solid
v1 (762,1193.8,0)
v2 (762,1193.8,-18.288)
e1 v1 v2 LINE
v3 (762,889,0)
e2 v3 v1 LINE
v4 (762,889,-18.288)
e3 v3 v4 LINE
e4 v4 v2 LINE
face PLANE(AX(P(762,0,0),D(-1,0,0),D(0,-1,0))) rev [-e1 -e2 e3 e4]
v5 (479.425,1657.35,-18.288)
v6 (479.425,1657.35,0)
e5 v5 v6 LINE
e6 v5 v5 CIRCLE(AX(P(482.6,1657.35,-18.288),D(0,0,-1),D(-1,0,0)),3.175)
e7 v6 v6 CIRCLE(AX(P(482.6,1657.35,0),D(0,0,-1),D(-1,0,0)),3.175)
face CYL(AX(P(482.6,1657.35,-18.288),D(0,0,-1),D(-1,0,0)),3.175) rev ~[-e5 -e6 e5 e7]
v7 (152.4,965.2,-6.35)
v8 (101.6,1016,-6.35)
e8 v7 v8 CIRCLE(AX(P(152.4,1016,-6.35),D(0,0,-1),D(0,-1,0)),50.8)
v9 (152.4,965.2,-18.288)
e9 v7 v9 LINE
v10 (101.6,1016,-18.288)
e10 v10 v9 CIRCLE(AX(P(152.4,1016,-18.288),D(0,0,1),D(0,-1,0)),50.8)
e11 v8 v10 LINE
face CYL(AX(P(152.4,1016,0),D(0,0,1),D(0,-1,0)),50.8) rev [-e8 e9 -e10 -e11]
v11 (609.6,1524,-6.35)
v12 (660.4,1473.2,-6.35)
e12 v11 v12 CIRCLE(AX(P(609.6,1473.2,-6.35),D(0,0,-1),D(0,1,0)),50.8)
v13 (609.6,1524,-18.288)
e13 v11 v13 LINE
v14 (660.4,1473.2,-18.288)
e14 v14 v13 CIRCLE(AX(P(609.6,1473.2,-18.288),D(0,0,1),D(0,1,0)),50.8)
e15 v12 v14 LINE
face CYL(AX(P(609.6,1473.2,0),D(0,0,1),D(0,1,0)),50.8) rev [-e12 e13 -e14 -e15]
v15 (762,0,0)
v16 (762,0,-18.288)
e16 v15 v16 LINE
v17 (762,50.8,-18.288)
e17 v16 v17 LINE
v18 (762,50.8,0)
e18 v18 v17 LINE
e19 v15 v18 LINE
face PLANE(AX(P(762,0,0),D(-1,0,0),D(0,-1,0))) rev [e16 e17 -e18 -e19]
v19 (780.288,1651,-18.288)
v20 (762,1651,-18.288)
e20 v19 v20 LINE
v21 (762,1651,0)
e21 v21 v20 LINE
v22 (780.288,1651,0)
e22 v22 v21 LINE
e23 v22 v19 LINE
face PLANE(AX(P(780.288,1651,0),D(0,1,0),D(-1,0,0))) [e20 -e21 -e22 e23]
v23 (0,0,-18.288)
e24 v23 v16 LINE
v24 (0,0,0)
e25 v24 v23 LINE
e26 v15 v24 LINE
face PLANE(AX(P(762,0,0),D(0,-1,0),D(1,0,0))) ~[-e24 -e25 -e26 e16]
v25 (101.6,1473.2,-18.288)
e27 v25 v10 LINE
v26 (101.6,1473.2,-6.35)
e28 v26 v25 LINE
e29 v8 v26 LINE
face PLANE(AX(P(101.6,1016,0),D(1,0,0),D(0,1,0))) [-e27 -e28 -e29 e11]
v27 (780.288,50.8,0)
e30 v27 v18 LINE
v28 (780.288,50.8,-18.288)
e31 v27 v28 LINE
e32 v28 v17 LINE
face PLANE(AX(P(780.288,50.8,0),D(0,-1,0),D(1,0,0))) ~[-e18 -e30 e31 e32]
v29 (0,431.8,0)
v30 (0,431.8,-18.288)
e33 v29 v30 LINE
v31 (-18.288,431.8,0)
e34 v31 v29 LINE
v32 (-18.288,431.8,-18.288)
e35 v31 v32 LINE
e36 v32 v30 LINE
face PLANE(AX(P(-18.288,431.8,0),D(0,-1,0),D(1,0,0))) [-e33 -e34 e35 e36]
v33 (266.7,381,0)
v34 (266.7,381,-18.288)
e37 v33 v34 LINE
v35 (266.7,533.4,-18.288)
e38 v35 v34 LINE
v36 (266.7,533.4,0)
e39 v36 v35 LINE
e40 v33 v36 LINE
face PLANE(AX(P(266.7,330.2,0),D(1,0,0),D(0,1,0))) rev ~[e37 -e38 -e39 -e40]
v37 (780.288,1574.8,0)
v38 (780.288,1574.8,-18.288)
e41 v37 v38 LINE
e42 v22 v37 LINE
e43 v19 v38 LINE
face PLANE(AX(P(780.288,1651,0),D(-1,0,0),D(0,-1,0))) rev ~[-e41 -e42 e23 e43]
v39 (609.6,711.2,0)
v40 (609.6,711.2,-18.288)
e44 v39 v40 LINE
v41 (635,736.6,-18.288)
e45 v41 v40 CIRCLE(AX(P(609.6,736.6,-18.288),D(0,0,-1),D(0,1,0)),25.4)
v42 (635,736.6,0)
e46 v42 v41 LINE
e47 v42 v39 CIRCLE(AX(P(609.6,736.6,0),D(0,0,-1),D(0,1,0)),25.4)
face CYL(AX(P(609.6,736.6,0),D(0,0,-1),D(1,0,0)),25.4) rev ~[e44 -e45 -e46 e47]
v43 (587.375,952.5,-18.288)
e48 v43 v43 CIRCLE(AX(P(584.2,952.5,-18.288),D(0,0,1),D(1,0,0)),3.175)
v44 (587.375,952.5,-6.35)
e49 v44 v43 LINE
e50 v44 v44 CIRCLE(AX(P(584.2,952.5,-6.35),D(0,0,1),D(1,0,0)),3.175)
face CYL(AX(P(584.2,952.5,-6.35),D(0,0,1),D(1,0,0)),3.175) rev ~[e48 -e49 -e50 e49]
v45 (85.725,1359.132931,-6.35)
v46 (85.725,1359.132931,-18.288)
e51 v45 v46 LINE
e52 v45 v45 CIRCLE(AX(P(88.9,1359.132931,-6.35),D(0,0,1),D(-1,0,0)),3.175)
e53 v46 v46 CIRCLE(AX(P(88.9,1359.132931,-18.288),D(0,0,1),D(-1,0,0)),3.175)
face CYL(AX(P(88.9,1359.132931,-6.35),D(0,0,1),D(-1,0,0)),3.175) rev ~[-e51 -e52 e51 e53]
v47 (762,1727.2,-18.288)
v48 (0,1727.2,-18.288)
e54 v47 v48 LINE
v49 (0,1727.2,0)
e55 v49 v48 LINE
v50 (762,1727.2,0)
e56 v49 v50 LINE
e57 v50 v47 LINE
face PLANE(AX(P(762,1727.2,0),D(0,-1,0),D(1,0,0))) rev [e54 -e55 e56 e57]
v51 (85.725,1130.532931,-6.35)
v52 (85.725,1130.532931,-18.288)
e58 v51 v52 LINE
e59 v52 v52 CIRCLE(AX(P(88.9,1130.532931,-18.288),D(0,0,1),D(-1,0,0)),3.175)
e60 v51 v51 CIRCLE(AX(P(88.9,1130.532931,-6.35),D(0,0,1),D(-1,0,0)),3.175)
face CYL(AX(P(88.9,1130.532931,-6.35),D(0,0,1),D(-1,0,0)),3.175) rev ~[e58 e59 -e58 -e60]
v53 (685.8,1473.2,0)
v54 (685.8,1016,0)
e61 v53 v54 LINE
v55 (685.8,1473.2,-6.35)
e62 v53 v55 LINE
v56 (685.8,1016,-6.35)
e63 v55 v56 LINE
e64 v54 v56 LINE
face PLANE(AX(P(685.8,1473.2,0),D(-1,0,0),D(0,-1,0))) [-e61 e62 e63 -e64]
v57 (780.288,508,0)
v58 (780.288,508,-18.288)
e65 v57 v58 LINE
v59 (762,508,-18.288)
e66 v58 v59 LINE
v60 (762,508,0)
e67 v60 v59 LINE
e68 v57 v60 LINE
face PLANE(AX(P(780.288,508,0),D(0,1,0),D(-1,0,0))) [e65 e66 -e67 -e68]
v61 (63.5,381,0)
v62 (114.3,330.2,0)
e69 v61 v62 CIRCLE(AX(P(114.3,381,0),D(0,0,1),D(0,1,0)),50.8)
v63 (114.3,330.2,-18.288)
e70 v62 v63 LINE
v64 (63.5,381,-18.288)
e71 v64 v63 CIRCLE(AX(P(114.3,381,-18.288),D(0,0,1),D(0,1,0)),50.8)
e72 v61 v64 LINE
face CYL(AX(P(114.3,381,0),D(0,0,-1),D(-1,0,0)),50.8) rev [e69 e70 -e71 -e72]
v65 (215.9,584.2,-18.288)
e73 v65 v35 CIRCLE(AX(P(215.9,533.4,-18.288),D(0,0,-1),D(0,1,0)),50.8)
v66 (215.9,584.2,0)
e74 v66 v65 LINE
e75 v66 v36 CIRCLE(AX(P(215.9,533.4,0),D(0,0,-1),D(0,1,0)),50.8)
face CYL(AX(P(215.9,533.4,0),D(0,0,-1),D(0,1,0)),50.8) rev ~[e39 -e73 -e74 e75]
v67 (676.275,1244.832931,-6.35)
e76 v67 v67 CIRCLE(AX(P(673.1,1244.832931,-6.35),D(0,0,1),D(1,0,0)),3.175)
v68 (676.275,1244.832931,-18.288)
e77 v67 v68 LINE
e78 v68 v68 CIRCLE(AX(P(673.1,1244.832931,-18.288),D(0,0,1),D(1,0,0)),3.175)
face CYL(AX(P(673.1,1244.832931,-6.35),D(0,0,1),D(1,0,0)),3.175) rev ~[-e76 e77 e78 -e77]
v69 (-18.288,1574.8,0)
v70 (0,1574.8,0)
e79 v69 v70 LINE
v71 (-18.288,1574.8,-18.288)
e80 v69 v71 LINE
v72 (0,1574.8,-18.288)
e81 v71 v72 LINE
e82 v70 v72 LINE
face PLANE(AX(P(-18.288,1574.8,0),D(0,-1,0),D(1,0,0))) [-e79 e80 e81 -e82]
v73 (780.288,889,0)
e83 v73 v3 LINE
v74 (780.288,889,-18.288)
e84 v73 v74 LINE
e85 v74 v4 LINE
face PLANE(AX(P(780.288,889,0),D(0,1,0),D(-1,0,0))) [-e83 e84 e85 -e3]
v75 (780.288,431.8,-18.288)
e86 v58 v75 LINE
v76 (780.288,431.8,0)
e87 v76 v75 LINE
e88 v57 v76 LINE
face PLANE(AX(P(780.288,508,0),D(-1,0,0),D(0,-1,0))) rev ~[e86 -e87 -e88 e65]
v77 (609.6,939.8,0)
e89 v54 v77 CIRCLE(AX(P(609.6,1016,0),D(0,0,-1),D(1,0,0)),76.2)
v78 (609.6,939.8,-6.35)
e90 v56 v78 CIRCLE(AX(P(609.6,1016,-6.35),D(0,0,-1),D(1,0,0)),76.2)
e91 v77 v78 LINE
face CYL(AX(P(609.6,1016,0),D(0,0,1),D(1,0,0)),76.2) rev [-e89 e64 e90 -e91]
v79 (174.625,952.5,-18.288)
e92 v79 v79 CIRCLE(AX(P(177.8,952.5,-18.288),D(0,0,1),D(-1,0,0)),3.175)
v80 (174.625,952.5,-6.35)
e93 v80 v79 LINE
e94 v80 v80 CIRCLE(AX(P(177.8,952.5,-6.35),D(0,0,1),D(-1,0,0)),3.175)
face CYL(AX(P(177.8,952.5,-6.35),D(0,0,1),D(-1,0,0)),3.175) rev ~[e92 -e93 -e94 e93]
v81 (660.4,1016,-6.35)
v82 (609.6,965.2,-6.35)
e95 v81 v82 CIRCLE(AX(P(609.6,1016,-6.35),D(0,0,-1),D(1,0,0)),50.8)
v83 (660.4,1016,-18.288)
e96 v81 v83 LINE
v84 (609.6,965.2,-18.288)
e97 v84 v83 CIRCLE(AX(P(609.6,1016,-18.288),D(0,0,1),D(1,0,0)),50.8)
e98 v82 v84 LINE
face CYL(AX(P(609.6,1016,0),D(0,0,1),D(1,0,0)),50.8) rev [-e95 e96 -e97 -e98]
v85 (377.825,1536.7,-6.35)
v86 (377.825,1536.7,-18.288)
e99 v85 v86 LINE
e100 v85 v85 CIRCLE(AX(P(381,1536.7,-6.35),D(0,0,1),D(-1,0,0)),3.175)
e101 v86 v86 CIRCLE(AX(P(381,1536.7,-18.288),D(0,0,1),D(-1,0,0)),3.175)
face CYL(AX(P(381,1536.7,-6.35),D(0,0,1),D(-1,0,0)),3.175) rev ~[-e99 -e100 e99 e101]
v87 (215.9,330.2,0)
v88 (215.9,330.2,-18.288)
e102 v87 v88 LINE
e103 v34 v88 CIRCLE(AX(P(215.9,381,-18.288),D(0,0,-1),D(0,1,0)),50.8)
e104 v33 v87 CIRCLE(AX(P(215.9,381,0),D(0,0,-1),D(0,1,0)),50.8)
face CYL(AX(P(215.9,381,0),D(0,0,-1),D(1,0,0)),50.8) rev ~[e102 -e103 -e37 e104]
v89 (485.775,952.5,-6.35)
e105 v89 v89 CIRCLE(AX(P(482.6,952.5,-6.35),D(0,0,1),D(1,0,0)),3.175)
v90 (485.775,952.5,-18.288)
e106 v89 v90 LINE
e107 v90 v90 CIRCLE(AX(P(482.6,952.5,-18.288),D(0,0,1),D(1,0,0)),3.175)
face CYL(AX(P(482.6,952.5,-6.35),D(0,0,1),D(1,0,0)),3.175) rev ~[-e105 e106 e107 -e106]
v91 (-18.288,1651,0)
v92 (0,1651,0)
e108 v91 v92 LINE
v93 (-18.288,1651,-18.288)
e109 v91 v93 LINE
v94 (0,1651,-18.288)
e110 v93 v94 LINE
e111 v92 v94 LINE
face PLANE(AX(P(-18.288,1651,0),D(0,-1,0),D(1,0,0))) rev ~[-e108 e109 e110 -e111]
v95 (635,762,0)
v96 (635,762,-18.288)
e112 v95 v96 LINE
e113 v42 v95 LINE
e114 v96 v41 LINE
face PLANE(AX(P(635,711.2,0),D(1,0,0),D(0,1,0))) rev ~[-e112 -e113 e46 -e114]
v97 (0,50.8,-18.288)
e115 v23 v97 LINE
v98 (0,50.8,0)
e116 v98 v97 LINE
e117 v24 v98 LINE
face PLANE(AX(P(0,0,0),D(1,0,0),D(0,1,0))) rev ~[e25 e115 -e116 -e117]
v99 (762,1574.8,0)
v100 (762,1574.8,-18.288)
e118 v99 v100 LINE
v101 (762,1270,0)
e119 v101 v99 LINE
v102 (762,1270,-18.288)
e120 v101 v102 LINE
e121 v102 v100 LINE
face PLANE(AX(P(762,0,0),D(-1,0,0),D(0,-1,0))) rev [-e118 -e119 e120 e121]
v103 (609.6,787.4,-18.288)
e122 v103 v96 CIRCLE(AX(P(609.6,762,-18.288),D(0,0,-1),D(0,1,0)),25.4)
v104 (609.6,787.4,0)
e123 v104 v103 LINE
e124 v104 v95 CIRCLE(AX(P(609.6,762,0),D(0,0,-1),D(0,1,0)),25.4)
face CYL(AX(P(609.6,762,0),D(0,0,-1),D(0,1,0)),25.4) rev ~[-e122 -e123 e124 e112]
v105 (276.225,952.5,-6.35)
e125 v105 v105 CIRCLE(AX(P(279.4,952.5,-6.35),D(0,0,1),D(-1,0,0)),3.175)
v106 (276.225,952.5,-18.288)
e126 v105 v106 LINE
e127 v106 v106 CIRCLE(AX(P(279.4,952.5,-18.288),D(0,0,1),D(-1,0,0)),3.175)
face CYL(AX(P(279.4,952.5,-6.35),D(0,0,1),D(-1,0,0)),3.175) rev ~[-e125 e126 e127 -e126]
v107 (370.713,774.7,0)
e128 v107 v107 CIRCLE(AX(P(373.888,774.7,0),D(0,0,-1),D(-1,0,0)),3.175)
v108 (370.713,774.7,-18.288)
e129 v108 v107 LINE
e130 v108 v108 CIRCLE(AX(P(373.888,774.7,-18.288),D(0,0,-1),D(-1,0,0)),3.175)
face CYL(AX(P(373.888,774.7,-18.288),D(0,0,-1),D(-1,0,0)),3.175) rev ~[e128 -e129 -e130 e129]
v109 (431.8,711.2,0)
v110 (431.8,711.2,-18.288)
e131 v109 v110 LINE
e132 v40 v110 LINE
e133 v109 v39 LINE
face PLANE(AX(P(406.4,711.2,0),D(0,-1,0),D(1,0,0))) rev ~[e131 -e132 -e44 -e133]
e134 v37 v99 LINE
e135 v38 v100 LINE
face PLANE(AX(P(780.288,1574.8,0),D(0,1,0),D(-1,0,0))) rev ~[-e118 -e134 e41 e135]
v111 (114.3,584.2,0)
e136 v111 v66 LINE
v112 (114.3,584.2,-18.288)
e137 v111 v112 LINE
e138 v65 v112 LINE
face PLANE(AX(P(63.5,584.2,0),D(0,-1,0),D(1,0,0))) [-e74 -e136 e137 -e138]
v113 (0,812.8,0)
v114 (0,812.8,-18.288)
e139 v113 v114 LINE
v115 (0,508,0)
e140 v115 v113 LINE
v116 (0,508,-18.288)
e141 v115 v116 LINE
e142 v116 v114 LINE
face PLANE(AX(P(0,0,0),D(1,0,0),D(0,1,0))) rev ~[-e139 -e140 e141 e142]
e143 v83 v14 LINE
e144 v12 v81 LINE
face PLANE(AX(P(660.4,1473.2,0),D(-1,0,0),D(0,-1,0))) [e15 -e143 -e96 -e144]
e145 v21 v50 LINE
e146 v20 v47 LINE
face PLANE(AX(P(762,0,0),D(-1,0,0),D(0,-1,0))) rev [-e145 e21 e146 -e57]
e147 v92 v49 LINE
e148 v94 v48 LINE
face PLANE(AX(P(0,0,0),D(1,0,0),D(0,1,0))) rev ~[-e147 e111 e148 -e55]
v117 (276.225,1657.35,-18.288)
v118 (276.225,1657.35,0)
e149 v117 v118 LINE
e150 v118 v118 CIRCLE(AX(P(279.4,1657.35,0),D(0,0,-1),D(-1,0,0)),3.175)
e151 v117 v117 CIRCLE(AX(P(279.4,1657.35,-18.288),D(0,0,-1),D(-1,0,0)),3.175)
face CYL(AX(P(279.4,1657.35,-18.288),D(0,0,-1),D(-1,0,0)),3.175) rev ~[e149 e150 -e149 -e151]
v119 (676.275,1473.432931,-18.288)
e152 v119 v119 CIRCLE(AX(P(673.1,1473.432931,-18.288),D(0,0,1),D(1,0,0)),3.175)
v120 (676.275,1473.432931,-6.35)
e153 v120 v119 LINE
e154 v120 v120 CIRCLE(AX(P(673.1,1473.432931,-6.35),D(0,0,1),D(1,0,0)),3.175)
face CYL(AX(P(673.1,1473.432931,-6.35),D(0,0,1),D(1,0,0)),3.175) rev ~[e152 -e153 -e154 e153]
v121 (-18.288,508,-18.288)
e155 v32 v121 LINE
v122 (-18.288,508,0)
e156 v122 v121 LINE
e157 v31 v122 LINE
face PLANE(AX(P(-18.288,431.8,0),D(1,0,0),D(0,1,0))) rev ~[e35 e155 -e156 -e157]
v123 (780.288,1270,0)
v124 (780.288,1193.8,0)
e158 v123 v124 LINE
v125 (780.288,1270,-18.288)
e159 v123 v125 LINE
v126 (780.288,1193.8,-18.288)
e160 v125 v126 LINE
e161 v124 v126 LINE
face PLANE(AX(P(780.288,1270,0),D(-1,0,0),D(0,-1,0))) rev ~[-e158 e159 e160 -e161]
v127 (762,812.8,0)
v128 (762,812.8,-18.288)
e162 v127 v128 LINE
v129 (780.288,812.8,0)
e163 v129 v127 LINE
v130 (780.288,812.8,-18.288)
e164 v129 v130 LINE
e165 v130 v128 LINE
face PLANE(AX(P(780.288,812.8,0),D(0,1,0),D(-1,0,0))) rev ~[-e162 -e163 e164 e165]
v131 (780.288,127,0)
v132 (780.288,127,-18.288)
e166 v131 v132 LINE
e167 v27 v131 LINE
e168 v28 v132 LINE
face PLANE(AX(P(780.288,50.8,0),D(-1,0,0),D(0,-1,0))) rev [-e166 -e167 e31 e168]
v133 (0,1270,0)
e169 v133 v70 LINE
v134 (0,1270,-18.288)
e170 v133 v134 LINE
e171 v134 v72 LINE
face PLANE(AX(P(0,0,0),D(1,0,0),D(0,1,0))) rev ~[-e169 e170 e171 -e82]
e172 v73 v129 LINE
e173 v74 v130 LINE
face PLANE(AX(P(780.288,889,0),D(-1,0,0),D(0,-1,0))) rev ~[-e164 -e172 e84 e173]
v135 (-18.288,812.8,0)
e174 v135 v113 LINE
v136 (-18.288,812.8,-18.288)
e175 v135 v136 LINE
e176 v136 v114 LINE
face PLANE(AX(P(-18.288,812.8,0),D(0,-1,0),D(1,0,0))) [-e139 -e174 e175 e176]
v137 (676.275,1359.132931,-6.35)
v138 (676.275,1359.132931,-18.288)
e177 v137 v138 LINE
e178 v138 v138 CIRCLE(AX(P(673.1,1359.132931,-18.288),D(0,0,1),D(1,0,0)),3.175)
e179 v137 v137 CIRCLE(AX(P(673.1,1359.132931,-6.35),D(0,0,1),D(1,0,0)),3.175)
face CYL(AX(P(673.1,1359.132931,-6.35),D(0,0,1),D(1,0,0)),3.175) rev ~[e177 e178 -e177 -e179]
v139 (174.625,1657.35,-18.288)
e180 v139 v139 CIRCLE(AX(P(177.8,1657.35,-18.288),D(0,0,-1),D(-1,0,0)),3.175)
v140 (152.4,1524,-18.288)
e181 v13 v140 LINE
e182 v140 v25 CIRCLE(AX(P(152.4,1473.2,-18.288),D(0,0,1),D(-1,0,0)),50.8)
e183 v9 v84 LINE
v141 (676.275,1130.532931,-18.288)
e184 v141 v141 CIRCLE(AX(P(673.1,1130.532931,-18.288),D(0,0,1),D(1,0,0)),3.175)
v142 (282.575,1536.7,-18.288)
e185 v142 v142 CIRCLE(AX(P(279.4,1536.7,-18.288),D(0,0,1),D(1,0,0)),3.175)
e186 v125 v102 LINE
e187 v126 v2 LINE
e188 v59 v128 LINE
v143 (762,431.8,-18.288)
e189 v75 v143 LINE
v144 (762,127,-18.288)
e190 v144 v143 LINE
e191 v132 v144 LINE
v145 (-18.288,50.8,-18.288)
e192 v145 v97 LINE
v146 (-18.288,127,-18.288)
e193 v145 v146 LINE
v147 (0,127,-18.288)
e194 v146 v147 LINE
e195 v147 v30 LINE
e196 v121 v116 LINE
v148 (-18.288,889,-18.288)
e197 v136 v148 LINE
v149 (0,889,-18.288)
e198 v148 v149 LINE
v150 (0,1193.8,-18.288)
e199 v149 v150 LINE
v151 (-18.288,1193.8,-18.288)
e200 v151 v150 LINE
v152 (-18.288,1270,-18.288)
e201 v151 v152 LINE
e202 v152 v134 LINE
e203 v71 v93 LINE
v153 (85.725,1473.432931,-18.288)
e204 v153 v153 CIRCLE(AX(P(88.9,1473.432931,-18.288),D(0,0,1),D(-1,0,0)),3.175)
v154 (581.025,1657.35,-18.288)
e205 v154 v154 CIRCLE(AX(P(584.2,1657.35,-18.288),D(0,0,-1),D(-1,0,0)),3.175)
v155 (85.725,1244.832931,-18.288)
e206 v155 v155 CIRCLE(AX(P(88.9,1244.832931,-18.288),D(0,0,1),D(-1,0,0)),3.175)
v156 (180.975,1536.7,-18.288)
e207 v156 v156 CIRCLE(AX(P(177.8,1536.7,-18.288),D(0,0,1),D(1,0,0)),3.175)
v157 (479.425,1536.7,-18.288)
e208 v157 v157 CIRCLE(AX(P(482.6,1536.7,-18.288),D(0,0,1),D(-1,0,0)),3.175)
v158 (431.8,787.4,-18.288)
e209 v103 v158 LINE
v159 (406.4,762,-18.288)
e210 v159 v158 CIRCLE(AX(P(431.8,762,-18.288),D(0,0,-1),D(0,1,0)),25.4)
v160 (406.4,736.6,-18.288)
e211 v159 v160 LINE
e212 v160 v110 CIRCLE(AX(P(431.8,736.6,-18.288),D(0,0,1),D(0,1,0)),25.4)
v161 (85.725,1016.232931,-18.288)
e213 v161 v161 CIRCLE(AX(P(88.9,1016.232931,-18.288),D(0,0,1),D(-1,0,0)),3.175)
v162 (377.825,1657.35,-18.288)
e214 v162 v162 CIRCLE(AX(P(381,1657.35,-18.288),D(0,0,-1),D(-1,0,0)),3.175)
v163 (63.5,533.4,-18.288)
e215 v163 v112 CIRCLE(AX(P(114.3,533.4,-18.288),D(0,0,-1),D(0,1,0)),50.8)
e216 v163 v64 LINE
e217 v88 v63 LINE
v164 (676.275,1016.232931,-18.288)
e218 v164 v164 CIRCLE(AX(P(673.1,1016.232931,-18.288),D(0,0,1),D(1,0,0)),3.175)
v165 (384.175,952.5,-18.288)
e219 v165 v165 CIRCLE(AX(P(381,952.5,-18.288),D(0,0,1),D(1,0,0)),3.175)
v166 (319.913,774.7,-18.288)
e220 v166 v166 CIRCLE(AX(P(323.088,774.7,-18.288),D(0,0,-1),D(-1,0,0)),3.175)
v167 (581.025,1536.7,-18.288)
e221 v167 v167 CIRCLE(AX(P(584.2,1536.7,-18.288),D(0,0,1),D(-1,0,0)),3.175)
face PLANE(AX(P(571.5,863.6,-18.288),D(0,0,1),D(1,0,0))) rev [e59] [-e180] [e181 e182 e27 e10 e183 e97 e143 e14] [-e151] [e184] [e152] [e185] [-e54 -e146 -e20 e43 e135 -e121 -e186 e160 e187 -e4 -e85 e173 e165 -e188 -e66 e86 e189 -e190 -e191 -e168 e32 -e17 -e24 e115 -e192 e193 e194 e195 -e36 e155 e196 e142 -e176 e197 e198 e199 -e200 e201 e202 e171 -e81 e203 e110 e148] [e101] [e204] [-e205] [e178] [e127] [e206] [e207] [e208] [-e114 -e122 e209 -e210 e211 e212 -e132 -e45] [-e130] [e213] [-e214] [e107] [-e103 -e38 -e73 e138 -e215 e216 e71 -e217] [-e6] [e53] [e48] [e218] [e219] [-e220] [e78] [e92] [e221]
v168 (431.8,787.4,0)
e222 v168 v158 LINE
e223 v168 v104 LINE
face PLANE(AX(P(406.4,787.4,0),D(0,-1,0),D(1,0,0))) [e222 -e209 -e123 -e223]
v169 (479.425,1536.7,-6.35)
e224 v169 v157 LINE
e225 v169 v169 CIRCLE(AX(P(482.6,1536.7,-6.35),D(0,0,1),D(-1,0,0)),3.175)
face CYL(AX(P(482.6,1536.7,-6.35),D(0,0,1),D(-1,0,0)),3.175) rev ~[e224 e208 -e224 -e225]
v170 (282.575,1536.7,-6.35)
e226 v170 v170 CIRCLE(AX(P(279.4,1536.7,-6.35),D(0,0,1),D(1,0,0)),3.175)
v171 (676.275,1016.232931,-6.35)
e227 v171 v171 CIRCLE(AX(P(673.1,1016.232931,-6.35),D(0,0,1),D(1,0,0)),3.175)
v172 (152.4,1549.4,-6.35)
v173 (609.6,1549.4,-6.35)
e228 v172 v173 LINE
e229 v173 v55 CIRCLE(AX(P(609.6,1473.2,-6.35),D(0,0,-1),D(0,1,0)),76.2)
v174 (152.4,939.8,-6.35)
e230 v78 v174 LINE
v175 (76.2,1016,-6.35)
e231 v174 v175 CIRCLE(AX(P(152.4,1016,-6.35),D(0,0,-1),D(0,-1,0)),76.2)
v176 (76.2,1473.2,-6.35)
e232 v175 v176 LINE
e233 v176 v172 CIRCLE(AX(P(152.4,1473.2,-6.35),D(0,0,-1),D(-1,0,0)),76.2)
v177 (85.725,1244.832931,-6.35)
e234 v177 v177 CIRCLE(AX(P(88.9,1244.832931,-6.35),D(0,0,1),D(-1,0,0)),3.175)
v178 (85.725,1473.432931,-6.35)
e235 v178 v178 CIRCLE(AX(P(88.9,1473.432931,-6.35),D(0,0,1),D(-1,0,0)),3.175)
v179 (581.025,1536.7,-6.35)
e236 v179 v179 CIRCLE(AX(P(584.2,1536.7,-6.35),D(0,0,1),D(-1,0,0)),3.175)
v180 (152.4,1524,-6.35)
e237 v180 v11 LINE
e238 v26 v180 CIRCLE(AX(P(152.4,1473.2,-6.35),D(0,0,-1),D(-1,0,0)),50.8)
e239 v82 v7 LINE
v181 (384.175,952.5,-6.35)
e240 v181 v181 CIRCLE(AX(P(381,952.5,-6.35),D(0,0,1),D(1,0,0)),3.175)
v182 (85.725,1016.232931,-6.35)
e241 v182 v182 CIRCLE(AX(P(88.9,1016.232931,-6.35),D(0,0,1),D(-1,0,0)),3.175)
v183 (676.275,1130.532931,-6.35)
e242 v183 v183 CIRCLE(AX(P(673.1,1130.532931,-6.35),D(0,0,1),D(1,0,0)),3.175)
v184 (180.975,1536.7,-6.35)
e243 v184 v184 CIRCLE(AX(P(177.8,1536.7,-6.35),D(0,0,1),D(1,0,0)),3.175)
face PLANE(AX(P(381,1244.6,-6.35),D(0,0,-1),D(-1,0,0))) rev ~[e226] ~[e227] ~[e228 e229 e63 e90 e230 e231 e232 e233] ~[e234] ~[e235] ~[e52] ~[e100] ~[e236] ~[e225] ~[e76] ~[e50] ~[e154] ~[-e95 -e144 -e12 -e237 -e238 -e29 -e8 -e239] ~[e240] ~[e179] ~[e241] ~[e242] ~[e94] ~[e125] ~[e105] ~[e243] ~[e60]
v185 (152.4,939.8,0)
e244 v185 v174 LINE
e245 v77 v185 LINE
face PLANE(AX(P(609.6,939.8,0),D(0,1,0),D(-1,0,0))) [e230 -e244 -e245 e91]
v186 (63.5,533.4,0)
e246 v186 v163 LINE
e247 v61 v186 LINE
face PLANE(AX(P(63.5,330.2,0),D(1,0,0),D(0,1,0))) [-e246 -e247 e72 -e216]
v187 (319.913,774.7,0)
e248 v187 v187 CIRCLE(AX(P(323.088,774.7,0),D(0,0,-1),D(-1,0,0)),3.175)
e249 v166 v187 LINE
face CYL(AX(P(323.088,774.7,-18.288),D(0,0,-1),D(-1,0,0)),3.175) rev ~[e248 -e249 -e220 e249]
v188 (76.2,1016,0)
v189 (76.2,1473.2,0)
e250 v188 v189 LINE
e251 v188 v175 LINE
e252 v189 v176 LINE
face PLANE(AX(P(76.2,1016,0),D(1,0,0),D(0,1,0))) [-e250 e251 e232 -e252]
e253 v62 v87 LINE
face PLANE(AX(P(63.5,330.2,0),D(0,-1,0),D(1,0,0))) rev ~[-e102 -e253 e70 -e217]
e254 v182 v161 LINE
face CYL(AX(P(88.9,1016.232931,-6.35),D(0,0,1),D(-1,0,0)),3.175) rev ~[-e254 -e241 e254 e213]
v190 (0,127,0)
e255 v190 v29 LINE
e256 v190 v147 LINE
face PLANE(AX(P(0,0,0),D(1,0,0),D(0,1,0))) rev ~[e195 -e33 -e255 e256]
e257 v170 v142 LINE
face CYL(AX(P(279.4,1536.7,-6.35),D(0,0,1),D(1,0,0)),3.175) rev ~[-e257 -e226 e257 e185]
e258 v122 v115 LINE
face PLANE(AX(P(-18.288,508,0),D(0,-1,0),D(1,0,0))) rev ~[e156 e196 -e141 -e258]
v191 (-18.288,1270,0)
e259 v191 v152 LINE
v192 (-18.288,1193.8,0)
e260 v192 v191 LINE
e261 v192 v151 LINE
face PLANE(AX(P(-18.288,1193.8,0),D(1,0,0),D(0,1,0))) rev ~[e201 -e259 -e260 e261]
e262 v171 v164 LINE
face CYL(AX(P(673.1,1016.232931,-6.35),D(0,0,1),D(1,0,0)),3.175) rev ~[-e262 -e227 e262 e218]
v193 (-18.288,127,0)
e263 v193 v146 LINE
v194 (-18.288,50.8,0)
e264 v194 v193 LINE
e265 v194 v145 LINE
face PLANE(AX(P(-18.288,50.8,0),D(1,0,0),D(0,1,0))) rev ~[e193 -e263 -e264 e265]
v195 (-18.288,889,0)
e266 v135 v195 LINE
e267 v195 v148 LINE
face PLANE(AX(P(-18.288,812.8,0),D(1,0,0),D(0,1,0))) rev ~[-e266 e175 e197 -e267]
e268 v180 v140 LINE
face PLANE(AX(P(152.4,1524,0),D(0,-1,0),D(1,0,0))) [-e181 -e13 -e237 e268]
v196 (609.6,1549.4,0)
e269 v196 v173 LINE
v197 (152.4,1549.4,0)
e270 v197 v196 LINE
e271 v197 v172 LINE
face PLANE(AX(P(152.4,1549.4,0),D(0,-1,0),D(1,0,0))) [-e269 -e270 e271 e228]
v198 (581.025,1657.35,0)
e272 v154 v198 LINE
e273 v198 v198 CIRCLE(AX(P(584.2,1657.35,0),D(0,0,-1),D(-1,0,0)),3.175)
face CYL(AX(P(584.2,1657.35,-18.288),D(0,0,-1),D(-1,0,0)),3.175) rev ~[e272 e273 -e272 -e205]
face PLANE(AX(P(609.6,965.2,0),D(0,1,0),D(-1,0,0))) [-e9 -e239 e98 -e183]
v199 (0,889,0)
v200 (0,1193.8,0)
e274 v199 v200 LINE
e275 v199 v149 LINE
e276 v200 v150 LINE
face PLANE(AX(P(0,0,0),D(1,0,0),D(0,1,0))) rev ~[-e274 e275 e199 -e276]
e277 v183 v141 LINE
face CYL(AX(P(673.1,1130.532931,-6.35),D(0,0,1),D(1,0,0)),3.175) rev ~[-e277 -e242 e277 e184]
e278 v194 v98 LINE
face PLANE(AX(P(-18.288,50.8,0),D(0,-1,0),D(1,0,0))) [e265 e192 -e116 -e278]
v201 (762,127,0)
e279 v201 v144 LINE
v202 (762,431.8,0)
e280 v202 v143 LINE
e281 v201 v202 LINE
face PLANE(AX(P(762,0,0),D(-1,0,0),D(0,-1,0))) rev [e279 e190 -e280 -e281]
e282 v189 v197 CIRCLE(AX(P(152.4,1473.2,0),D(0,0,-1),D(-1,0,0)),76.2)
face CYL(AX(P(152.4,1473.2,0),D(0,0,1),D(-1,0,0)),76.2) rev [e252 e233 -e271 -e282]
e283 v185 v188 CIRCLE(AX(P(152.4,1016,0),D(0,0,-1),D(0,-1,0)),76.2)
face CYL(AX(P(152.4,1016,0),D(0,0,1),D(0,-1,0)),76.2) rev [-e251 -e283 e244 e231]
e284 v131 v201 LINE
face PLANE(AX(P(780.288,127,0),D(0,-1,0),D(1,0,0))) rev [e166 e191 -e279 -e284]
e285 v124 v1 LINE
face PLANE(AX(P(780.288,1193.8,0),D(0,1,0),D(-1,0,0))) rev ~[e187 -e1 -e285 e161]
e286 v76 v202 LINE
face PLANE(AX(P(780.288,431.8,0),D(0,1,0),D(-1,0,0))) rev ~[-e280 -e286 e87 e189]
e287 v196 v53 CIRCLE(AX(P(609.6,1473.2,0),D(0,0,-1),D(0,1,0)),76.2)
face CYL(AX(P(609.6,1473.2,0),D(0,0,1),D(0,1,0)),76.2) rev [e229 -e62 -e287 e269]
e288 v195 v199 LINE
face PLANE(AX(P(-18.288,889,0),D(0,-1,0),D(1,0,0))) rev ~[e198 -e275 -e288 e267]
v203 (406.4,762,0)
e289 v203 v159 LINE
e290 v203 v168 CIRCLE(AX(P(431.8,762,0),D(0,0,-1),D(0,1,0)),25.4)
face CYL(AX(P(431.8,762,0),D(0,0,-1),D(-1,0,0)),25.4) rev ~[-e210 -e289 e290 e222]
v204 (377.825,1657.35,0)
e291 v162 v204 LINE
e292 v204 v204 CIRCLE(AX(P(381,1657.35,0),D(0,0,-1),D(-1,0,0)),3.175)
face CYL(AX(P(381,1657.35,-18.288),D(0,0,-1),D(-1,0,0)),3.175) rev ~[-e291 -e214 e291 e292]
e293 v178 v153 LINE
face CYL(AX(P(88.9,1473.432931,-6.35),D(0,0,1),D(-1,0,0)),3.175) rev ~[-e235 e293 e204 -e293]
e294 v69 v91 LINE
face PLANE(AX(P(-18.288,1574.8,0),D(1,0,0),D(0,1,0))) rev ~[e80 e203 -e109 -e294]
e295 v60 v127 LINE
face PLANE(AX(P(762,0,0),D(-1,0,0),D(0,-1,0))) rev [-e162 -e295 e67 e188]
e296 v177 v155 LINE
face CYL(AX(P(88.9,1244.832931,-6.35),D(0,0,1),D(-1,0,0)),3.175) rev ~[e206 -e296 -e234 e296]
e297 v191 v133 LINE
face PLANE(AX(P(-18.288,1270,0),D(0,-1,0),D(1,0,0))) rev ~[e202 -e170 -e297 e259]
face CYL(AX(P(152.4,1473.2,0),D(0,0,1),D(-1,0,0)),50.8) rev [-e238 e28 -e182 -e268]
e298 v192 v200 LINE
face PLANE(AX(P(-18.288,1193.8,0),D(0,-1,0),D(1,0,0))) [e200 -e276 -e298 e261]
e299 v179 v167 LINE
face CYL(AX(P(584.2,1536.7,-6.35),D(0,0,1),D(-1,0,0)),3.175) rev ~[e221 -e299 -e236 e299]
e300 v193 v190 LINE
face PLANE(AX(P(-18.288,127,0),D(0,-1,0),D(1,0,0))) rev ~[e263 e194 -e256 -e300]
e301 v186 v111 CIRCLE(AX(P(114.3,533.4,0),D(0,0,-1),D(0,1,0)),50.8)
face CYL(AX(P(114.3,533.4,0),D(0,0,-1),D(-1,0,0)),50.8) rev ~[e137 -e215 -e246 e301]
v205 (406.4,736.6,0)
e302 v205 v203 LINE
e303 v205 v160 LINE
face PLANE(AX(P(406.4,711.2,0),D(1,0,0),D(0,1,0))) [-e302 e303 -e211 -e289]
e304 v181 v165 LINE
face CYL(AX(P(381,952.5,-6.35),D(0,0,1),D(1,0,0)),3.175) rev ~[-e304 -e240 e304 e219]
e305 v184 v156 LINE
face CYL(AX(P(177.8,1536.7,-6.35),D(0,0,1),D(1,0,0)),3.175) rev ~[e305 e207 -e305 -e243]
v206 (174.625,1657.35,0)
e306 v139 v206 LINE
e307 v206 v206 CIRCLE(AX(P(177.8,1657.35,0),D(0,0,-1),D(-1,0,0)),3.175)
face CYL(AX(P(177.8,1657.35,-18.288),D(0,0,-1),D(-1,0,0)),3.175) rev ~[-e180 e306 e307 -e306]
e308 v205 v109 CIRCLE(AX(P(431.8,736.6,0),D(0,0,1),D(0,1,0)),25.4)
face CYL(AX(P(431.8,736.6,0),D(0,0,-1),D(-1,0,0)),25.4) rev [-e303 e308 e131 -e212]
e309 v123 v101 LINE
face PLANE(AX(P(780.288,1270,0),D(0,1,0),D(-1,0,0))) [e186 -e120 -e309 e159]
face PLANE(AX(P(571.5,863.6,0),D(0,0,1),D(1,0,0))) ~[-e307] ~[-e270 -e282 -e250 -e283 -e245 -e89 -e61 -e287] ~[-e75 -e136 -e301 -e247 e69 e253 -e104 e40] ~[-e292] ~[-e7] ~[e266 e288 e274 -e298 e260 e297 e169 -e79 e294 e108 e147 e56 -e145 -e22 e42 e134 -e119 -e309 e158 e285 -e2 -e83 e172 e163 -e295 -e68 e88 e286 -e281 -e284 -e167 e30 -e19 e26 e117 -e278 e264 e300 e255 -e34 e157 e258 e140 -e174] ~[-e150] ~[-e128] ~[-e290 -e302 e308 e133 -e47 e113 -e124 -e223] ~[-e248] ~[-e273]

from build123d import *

# Parameters (mm, degrees)
SKETCH2_W               = 381
SKETCH2_H               = 1727.2
BOSS_EXTRUDE1_DEPTH     = 18.288
SKETCH3_W               = 18.288
SKETCH3_H               = 76.2
BOSS_EXTRUDE2_DEPTH     = 18.288
LPATTERN1_COUNT         = 5
LPATTERN1_PITCH         = 381
MIRROR1_COPY_1_SKETCH_W = 18.288
MIRROR1_COPY_1_SKETCH_H = 76.2
MIRROR1_COPY_1_DEPTH    = 18.288
MIRROR1_COPY_2_SKETCH_W = 18.288
MIRROR1_COPY_2_SKETCH_H = 76.2
MIRROR1_COPY_2_DEPTH    = 18.288
MIRROR1_COPY_3_SKETCH_W = 18.288
MIRROR1_COPY_3_SKETCH_H = 76.2
MIRROR1_COPY_3_DEPTH    = 18.288
MIRROR1_COPY_4_SKETCH_W = 18.288
MIRROR1_COPY_4_SKETCH_H = 76.2
MIRROR1_COPY_4_DEPTH    = 18.288
CUT_EXTRUDE2_DEPTH      = 1896.363726014
CUT_EXTRUDE4_DEPTH      = 6.35
SKETCH6_W               = 203.2
SKETCH6_H               = 254
CUT_EXTRUDE5_DEPTH      = 1896.363726014
SKETCH7_R               = 3.175
CUT_EXTRUDE6_DEPTH      = 25.4
FILLET1_R               = 50.8
SKETCH10_W              = 228.6
SKETCH10_H              = 76.2
CUT_EXTRUDE7_DEPTH      = 25.4
FILLET2_R               = 25.4
SKETCH12_R              = 3.175
CUT_EXTRUDE10_DEPTH     = 1896.363726014
SKETCH13_R              = 3.175
CUT_EXTRUDE11_DEPTH     = 1896.363726014


with BuildPart() as part:
    # Sketch2 → Boss-Extrude1 (new body)
    with BuildSketch(Plane.XY):
        with Locations((190.5, 863.6)):
            Rectangle(SKETCH2_W, SKETCH2_H)
    boss_extrude1 = extrude(amount=-BOSS_EXTRUDE1_DEPTH)

    # Sketch3 → Boss-Extrude2 (add)
    with BuildSketch(Plane.XY):
        with Locations((-9.144, 88.9)):
            Rectangle(SKETCH3_W, SKETCH3_H)
    boss_extrude2 = extrude(amount=-BOSS_EXTRUDE2_DEPTH)

    # LPattern1: Boss-Extrude2 ×5
    with Locations(*[(0, i * LPATTERN1_PITCH, 0) for i in range(1, LPATTERN1_COUNT)]):
        add(boss_extrude2)

    # Mirror1: Boss-Extrude1, Boss-Extrude2 across plane
    add(boss_extrude1.mirror(Plane(origin=(381, 0, -18.288), x_dir=(0, 0, 1), z_dir=(1, 0, 0))))
    add(boss_extrude2.mirror(Plane(origin=(381, 0, -18.288), x_dir=(0, 0, 1), z_dir=(1, 0, 0))))

    # Mirror1 copy 1 sketch → Mirror1 copy 1 (add)
    with BuildSketch(Plane(origin=(762, 381, 0), x_dir=(-1, 0, 0), z_dir=(0, 0, 1))):
        with Locations((-9.144, -88.9)):
            Rectangle(MIRROR1_COPY_1_SKETCH_W, MIRROR1_COPY_1_SKETCH_H)
    extrude(amount=-MIRROR1_COPY_1_DEPTH)

    # Mirror1 copy 2 sketch → Mirror1 copy 2 (add)
    with BuildSketch(Plane(origin=(762, 762, 0), x_dir=(-1, 0, 0), z_dir=(0, 0, 1))):
        with Locations((-9.144, -88.9)):
            Rectangle(MIRROR1_COPY_2_SKETCH_W, MIRROR1_COPY_2_SKETCH_H)
    extrude(amount=-MIRROR1_COPY_2_DEPTH)

    # Mirror1 copy 3 sketch → Mirror1 copy 3 (add)
    with BuildSketch(Plane(origin=(762, 1143, 0), x_dir=(-1, 0, 0), z_dir=(0, 0, 1))):
        with Locations((-9.144, -88.9)):
            Rectangle(MIRROR1_COPY_3_SKETCH_W, MIRROR1_COPY_3_SKETCH_H)
    extrude(amount=-MIRROR1_COPY_3_DEPTH)

    # Mirror1 copy 4 sketch → Mirror1 copy 4 (add)
    with BuildSketch(Plane(origin=(762, 1524, 0), x_dir=(-1, 0, 0), z_dir=(0, 0, 1))):
        with Locations((-9.144, -88.9)):
            Rectangle(MIRROR1_COPY_4_SKETCH_W, MIRROR1_COPY_4_SKETCH_H)
    extrude(amount=-MIRROR1_COPY_4_DEPTH)

    # Sketch4 → Cut-Extrude2 (cut, through all)
    with BuildSketch(Plane.XY):
        with BuildLine():
            Line((152.4, 1524), (609.6, 1524))
            ThreePointArc((609.6, 1524), (645.521024484, 1509.121024484), (660.4, 1473.2))
            Line((660.4, 1473.2), (660.4, 1016))
            ThreePointArc((660.4, 1016), (645.521024484, 980.078975516), (609.6, 965.2))
            Line((609.6, 965.2), (152.4, 965.2))
            ThreePointArc((152.4, 965.2), (116.478975516, 980.078975516), (101.6, 1016))
            Line((101.6, 1016), (101.6, 1473.2))
            ThreePointArc((101.6, 1473.2), (116.478975516, 1509.121024484), (152.4, 1524))
        make_face()
    extrude(amount=-CUT_EXTRUDE2_DEPTH, mode=Mode.SUBTRACT)

    # Sketch5 → Cut-Extrude4 (cut)
    with BuildSketch(Plane.XY):
        with BuildLine():
            Line((152.4, 1549.4), (609.6, 1549.4))
            ThreePointArc((609.6, 1549.4), (663.481536726, 1527.081536726), (685.8, 1473.2))
            Line((685.8, 1473.2), (685.8, 1016))
            ThreePointArc((685.8, 1016), (663.481536726, 962.118463274), (609.6, 939.8))
            Line((609.6, 939.8), (152.4, 939.8))
            ThreePointArc((152.4, 939.8), (98.518463274, 962.118463274), (76.2, 1016))
            Line((76.2, 1016), (76.2, 1473.2))
            ThreePointArc((76.2, 1473.2), (98.518463274, 1527.081536726), (152.4, 1549.4))
        make_face()
        with BuildLine():
            Line((152.4, 1524), (609.6, 1524))
            ThreePointArc((609.6, 1524), (645.521024484, 1509.121024484), (660.4, 1473.2))
            Line((660.4, 1473.2), (660.4, 1016))
            ThreePointArc((660.4, 1016), (645.521024484, 980.078975516), (609.6, 965.2))
            Line((609.6, 965.2), (152.4, 965.2))
            ThreePointArc((152.4, 965.2), (116.478975516, 980.078975516), (101.6, 1016))
            Line((101.6, 1016), (101.6, 1473.2))
            ThreePointArc((101.6, 1473.2), (116.478975516, 1509.121024484), (152.4, 1524))
        make_face(mode=Mode.SUBTRACT)
    extrude(amount=-CUT_EXTRUDE4_DEPTH, mode=Mode.SUBTRACT)

    # Sketch6 → Cut-Extrude5 (cut, through all)
    with BuildSketch(Plane.XY):
        with Locations((165.1, 457.2)):
            Rectangle(SKETCH6_W, SKETCH6_H)
    extrude(amount=-CUT_EXTRUDE5_DEPTH, mode=Mode.SUBTRACT)

    # Sketch7 → Cut-Extrude6 (cut)
    with BuildSketch(Plane.XY.offset(-6.35)):
        with Locations((381, 952.5)):
            Circle(SKETCH7_R)
        with Locations((482.6, 952.5)):
            Circle(SKETCH7_R)
        with Locations((584.2, 952.5)):
            Circle(SKETCH7_R)
        with Locations(Location((177.8, 952.5, 0), (0, 0, 180))):
            Circle(SKETCH7_R)
        with Locations(Location((279.4, 952.5, 0), (0, 0, 180))):
            Circle(SKETCH7_R)
        with Locations(Location((584.2, 1536.7, 0), (0, 0, 180))):
            Circle(SKETCH7_R)
        with Locations(Location((482.6, 1536.7, 0), (0, 0, 180))):
            Circle(SKETCH7_R)
        with Locations(Location((381, 1536.7, 0), (0, 0, 180))):
            Circle(SKETCH7_R)
        with Locations((279.4, 1536.7)):
            Circle(SKETCH7_R)
        with Locations((177.8, 1536.7)):
            Circle(SKETCH7_R)
        with Locations((673.1, 1244.832930671)):
            Circle(SKETCH7_R)
        with Locations((673.1, 1359.132930671)):
            Circle(SKETCH7_R)
        with Locations((673.1, 1473.432930671)):
            Circle(SKETCH7_R)
        with Locations((673.1, 1130.532930671)):
            Circle(SKETCH7_R)
        with Locations((673.1, 1016.232930671)):
            Circle(SKETCH7_R)
        with Locations(Location((88.9, 1016.232930671, 0), (0, 0, 180))):
            Circle(SKETCH7_R)
        with Locations(Location((88.9, 1130.532930671, 0), (0, 0, 180))):
            Circle(SKETCH7_R)
        with Locations(Location((88.9, 1244.832930671, 0), (0, 0, 180))):
            Circle(SKETCH7_R)
        with Locations(Location((88.9, 1359.132930671, 0), (0, 0, 180))):
            Circle(SKETCH7_R)
        with Locations(Location((88.9, 1473.432930671, 0), (0, 0, 180))):
            Circle(SKETCH7_R)
        with BuildLine():
            Line((152.4, 965.2), (609.6, 965.2))
            ThreePointArc((609.6, 965.2), (645.521024484, 980.078975516), (660.4, 1016))
            Line((660.4, 1016), (660.4, 1473.2))
            ThreePointArc((660.4, 1473.2), (645.521024484, 1509.121024484), (609.6, 1524))
            Line((609.6, 1524), (152.4, 1524))
            ThreePointArc((152.4, 1524), (116.478975516, 1509.121024484), (101.6, 1473.2))
            Line((101.6, 1473.2), (101.6, 1016))
            ThreePointArc((101.6, 1016), (116.478975516, 980.078975516), (152.4, 965.2))
        make_face()
    extrude(amount=-CUT_EXTRUDE6_DEPTH, mode=Mode.SUBTRACT)

    # Fillet1
    fillet1_edges = [part.edges().sort_by_distance(p)[0] for p in [
        (63.5, 330.2, -9.144),
        (63.5, 584.2, -9.144),
        (266.7, 584.2, -9.144),
        (266.7, 330.2, -9.144),
    ]]
    fillet(fillet1_edges, radius=FILLET1_R)

    # Sketch10 → Cut-Extrude7 (cut)
    with BuildSketch(Plane.XY):
        with Locations((520.7, 749.3)):
            Rectangle(SKETCH10_W, SKETCH10_H)
    extrude(amount=-CUT_EXTRUDE7_DEPTH, mode=Mode.SUBTRACT)

    # Fillet2
    fillet2_edges = [part.edges().sort_by_distance(p)[0] for p in [
        (406.4, 711.2, -9.144),
        (406.4, 787.4, -9.144),
        (635, 787.4, -9.144),
        (635, 711.2, -9.144),
    ]]
    fillet(fillet2_edges, radius=FILLET2_R)

    # Sketch12 → Cut-Extrude10 (cut, through all)
    with BuildSketch(Plane(origin=(0, 0, -18.288), x_dir=(-1, 0, 0), z_dir=(0, 0, -1))):
        with Locations((-584.2, 1657.35)):
            Circle(SKETCH12_R)
        with Locations((-482.6, 1657.35)):
            Circle(SKETCH12_R)
        with Locations((-381, 1657.35)):
            Circle(SKETCH12_R)
        with Locations((-279.4, 1657.35)):
            Circle(SKETCH12_R)
        with Locations((-177.8, 1657.35)):
            Circle(SKETCH12_R)
    extrude(amount=-CUT_EXTRUDE10_DEPTH, mode=Mode.SUBTRACT)

    # Sketch13 → Cut-Extrude11 (cut, through all)
    with BuildSketch(Plane(origin=(0, 0, -18.288), x_dir=(-1, 0, 0), z_dir=(0, 0, -1))):
        with Locations((-373.888, 774.7)):
            Circle(SKETCH13_R)
        with Locations((-323.088, 774.7)):
            Circle(SKETCH13_R)
    extrude(amount=-CUT_EXTRUDE11_DEPTH, mode=Mode.SUBTRACT)


solid = part.part
